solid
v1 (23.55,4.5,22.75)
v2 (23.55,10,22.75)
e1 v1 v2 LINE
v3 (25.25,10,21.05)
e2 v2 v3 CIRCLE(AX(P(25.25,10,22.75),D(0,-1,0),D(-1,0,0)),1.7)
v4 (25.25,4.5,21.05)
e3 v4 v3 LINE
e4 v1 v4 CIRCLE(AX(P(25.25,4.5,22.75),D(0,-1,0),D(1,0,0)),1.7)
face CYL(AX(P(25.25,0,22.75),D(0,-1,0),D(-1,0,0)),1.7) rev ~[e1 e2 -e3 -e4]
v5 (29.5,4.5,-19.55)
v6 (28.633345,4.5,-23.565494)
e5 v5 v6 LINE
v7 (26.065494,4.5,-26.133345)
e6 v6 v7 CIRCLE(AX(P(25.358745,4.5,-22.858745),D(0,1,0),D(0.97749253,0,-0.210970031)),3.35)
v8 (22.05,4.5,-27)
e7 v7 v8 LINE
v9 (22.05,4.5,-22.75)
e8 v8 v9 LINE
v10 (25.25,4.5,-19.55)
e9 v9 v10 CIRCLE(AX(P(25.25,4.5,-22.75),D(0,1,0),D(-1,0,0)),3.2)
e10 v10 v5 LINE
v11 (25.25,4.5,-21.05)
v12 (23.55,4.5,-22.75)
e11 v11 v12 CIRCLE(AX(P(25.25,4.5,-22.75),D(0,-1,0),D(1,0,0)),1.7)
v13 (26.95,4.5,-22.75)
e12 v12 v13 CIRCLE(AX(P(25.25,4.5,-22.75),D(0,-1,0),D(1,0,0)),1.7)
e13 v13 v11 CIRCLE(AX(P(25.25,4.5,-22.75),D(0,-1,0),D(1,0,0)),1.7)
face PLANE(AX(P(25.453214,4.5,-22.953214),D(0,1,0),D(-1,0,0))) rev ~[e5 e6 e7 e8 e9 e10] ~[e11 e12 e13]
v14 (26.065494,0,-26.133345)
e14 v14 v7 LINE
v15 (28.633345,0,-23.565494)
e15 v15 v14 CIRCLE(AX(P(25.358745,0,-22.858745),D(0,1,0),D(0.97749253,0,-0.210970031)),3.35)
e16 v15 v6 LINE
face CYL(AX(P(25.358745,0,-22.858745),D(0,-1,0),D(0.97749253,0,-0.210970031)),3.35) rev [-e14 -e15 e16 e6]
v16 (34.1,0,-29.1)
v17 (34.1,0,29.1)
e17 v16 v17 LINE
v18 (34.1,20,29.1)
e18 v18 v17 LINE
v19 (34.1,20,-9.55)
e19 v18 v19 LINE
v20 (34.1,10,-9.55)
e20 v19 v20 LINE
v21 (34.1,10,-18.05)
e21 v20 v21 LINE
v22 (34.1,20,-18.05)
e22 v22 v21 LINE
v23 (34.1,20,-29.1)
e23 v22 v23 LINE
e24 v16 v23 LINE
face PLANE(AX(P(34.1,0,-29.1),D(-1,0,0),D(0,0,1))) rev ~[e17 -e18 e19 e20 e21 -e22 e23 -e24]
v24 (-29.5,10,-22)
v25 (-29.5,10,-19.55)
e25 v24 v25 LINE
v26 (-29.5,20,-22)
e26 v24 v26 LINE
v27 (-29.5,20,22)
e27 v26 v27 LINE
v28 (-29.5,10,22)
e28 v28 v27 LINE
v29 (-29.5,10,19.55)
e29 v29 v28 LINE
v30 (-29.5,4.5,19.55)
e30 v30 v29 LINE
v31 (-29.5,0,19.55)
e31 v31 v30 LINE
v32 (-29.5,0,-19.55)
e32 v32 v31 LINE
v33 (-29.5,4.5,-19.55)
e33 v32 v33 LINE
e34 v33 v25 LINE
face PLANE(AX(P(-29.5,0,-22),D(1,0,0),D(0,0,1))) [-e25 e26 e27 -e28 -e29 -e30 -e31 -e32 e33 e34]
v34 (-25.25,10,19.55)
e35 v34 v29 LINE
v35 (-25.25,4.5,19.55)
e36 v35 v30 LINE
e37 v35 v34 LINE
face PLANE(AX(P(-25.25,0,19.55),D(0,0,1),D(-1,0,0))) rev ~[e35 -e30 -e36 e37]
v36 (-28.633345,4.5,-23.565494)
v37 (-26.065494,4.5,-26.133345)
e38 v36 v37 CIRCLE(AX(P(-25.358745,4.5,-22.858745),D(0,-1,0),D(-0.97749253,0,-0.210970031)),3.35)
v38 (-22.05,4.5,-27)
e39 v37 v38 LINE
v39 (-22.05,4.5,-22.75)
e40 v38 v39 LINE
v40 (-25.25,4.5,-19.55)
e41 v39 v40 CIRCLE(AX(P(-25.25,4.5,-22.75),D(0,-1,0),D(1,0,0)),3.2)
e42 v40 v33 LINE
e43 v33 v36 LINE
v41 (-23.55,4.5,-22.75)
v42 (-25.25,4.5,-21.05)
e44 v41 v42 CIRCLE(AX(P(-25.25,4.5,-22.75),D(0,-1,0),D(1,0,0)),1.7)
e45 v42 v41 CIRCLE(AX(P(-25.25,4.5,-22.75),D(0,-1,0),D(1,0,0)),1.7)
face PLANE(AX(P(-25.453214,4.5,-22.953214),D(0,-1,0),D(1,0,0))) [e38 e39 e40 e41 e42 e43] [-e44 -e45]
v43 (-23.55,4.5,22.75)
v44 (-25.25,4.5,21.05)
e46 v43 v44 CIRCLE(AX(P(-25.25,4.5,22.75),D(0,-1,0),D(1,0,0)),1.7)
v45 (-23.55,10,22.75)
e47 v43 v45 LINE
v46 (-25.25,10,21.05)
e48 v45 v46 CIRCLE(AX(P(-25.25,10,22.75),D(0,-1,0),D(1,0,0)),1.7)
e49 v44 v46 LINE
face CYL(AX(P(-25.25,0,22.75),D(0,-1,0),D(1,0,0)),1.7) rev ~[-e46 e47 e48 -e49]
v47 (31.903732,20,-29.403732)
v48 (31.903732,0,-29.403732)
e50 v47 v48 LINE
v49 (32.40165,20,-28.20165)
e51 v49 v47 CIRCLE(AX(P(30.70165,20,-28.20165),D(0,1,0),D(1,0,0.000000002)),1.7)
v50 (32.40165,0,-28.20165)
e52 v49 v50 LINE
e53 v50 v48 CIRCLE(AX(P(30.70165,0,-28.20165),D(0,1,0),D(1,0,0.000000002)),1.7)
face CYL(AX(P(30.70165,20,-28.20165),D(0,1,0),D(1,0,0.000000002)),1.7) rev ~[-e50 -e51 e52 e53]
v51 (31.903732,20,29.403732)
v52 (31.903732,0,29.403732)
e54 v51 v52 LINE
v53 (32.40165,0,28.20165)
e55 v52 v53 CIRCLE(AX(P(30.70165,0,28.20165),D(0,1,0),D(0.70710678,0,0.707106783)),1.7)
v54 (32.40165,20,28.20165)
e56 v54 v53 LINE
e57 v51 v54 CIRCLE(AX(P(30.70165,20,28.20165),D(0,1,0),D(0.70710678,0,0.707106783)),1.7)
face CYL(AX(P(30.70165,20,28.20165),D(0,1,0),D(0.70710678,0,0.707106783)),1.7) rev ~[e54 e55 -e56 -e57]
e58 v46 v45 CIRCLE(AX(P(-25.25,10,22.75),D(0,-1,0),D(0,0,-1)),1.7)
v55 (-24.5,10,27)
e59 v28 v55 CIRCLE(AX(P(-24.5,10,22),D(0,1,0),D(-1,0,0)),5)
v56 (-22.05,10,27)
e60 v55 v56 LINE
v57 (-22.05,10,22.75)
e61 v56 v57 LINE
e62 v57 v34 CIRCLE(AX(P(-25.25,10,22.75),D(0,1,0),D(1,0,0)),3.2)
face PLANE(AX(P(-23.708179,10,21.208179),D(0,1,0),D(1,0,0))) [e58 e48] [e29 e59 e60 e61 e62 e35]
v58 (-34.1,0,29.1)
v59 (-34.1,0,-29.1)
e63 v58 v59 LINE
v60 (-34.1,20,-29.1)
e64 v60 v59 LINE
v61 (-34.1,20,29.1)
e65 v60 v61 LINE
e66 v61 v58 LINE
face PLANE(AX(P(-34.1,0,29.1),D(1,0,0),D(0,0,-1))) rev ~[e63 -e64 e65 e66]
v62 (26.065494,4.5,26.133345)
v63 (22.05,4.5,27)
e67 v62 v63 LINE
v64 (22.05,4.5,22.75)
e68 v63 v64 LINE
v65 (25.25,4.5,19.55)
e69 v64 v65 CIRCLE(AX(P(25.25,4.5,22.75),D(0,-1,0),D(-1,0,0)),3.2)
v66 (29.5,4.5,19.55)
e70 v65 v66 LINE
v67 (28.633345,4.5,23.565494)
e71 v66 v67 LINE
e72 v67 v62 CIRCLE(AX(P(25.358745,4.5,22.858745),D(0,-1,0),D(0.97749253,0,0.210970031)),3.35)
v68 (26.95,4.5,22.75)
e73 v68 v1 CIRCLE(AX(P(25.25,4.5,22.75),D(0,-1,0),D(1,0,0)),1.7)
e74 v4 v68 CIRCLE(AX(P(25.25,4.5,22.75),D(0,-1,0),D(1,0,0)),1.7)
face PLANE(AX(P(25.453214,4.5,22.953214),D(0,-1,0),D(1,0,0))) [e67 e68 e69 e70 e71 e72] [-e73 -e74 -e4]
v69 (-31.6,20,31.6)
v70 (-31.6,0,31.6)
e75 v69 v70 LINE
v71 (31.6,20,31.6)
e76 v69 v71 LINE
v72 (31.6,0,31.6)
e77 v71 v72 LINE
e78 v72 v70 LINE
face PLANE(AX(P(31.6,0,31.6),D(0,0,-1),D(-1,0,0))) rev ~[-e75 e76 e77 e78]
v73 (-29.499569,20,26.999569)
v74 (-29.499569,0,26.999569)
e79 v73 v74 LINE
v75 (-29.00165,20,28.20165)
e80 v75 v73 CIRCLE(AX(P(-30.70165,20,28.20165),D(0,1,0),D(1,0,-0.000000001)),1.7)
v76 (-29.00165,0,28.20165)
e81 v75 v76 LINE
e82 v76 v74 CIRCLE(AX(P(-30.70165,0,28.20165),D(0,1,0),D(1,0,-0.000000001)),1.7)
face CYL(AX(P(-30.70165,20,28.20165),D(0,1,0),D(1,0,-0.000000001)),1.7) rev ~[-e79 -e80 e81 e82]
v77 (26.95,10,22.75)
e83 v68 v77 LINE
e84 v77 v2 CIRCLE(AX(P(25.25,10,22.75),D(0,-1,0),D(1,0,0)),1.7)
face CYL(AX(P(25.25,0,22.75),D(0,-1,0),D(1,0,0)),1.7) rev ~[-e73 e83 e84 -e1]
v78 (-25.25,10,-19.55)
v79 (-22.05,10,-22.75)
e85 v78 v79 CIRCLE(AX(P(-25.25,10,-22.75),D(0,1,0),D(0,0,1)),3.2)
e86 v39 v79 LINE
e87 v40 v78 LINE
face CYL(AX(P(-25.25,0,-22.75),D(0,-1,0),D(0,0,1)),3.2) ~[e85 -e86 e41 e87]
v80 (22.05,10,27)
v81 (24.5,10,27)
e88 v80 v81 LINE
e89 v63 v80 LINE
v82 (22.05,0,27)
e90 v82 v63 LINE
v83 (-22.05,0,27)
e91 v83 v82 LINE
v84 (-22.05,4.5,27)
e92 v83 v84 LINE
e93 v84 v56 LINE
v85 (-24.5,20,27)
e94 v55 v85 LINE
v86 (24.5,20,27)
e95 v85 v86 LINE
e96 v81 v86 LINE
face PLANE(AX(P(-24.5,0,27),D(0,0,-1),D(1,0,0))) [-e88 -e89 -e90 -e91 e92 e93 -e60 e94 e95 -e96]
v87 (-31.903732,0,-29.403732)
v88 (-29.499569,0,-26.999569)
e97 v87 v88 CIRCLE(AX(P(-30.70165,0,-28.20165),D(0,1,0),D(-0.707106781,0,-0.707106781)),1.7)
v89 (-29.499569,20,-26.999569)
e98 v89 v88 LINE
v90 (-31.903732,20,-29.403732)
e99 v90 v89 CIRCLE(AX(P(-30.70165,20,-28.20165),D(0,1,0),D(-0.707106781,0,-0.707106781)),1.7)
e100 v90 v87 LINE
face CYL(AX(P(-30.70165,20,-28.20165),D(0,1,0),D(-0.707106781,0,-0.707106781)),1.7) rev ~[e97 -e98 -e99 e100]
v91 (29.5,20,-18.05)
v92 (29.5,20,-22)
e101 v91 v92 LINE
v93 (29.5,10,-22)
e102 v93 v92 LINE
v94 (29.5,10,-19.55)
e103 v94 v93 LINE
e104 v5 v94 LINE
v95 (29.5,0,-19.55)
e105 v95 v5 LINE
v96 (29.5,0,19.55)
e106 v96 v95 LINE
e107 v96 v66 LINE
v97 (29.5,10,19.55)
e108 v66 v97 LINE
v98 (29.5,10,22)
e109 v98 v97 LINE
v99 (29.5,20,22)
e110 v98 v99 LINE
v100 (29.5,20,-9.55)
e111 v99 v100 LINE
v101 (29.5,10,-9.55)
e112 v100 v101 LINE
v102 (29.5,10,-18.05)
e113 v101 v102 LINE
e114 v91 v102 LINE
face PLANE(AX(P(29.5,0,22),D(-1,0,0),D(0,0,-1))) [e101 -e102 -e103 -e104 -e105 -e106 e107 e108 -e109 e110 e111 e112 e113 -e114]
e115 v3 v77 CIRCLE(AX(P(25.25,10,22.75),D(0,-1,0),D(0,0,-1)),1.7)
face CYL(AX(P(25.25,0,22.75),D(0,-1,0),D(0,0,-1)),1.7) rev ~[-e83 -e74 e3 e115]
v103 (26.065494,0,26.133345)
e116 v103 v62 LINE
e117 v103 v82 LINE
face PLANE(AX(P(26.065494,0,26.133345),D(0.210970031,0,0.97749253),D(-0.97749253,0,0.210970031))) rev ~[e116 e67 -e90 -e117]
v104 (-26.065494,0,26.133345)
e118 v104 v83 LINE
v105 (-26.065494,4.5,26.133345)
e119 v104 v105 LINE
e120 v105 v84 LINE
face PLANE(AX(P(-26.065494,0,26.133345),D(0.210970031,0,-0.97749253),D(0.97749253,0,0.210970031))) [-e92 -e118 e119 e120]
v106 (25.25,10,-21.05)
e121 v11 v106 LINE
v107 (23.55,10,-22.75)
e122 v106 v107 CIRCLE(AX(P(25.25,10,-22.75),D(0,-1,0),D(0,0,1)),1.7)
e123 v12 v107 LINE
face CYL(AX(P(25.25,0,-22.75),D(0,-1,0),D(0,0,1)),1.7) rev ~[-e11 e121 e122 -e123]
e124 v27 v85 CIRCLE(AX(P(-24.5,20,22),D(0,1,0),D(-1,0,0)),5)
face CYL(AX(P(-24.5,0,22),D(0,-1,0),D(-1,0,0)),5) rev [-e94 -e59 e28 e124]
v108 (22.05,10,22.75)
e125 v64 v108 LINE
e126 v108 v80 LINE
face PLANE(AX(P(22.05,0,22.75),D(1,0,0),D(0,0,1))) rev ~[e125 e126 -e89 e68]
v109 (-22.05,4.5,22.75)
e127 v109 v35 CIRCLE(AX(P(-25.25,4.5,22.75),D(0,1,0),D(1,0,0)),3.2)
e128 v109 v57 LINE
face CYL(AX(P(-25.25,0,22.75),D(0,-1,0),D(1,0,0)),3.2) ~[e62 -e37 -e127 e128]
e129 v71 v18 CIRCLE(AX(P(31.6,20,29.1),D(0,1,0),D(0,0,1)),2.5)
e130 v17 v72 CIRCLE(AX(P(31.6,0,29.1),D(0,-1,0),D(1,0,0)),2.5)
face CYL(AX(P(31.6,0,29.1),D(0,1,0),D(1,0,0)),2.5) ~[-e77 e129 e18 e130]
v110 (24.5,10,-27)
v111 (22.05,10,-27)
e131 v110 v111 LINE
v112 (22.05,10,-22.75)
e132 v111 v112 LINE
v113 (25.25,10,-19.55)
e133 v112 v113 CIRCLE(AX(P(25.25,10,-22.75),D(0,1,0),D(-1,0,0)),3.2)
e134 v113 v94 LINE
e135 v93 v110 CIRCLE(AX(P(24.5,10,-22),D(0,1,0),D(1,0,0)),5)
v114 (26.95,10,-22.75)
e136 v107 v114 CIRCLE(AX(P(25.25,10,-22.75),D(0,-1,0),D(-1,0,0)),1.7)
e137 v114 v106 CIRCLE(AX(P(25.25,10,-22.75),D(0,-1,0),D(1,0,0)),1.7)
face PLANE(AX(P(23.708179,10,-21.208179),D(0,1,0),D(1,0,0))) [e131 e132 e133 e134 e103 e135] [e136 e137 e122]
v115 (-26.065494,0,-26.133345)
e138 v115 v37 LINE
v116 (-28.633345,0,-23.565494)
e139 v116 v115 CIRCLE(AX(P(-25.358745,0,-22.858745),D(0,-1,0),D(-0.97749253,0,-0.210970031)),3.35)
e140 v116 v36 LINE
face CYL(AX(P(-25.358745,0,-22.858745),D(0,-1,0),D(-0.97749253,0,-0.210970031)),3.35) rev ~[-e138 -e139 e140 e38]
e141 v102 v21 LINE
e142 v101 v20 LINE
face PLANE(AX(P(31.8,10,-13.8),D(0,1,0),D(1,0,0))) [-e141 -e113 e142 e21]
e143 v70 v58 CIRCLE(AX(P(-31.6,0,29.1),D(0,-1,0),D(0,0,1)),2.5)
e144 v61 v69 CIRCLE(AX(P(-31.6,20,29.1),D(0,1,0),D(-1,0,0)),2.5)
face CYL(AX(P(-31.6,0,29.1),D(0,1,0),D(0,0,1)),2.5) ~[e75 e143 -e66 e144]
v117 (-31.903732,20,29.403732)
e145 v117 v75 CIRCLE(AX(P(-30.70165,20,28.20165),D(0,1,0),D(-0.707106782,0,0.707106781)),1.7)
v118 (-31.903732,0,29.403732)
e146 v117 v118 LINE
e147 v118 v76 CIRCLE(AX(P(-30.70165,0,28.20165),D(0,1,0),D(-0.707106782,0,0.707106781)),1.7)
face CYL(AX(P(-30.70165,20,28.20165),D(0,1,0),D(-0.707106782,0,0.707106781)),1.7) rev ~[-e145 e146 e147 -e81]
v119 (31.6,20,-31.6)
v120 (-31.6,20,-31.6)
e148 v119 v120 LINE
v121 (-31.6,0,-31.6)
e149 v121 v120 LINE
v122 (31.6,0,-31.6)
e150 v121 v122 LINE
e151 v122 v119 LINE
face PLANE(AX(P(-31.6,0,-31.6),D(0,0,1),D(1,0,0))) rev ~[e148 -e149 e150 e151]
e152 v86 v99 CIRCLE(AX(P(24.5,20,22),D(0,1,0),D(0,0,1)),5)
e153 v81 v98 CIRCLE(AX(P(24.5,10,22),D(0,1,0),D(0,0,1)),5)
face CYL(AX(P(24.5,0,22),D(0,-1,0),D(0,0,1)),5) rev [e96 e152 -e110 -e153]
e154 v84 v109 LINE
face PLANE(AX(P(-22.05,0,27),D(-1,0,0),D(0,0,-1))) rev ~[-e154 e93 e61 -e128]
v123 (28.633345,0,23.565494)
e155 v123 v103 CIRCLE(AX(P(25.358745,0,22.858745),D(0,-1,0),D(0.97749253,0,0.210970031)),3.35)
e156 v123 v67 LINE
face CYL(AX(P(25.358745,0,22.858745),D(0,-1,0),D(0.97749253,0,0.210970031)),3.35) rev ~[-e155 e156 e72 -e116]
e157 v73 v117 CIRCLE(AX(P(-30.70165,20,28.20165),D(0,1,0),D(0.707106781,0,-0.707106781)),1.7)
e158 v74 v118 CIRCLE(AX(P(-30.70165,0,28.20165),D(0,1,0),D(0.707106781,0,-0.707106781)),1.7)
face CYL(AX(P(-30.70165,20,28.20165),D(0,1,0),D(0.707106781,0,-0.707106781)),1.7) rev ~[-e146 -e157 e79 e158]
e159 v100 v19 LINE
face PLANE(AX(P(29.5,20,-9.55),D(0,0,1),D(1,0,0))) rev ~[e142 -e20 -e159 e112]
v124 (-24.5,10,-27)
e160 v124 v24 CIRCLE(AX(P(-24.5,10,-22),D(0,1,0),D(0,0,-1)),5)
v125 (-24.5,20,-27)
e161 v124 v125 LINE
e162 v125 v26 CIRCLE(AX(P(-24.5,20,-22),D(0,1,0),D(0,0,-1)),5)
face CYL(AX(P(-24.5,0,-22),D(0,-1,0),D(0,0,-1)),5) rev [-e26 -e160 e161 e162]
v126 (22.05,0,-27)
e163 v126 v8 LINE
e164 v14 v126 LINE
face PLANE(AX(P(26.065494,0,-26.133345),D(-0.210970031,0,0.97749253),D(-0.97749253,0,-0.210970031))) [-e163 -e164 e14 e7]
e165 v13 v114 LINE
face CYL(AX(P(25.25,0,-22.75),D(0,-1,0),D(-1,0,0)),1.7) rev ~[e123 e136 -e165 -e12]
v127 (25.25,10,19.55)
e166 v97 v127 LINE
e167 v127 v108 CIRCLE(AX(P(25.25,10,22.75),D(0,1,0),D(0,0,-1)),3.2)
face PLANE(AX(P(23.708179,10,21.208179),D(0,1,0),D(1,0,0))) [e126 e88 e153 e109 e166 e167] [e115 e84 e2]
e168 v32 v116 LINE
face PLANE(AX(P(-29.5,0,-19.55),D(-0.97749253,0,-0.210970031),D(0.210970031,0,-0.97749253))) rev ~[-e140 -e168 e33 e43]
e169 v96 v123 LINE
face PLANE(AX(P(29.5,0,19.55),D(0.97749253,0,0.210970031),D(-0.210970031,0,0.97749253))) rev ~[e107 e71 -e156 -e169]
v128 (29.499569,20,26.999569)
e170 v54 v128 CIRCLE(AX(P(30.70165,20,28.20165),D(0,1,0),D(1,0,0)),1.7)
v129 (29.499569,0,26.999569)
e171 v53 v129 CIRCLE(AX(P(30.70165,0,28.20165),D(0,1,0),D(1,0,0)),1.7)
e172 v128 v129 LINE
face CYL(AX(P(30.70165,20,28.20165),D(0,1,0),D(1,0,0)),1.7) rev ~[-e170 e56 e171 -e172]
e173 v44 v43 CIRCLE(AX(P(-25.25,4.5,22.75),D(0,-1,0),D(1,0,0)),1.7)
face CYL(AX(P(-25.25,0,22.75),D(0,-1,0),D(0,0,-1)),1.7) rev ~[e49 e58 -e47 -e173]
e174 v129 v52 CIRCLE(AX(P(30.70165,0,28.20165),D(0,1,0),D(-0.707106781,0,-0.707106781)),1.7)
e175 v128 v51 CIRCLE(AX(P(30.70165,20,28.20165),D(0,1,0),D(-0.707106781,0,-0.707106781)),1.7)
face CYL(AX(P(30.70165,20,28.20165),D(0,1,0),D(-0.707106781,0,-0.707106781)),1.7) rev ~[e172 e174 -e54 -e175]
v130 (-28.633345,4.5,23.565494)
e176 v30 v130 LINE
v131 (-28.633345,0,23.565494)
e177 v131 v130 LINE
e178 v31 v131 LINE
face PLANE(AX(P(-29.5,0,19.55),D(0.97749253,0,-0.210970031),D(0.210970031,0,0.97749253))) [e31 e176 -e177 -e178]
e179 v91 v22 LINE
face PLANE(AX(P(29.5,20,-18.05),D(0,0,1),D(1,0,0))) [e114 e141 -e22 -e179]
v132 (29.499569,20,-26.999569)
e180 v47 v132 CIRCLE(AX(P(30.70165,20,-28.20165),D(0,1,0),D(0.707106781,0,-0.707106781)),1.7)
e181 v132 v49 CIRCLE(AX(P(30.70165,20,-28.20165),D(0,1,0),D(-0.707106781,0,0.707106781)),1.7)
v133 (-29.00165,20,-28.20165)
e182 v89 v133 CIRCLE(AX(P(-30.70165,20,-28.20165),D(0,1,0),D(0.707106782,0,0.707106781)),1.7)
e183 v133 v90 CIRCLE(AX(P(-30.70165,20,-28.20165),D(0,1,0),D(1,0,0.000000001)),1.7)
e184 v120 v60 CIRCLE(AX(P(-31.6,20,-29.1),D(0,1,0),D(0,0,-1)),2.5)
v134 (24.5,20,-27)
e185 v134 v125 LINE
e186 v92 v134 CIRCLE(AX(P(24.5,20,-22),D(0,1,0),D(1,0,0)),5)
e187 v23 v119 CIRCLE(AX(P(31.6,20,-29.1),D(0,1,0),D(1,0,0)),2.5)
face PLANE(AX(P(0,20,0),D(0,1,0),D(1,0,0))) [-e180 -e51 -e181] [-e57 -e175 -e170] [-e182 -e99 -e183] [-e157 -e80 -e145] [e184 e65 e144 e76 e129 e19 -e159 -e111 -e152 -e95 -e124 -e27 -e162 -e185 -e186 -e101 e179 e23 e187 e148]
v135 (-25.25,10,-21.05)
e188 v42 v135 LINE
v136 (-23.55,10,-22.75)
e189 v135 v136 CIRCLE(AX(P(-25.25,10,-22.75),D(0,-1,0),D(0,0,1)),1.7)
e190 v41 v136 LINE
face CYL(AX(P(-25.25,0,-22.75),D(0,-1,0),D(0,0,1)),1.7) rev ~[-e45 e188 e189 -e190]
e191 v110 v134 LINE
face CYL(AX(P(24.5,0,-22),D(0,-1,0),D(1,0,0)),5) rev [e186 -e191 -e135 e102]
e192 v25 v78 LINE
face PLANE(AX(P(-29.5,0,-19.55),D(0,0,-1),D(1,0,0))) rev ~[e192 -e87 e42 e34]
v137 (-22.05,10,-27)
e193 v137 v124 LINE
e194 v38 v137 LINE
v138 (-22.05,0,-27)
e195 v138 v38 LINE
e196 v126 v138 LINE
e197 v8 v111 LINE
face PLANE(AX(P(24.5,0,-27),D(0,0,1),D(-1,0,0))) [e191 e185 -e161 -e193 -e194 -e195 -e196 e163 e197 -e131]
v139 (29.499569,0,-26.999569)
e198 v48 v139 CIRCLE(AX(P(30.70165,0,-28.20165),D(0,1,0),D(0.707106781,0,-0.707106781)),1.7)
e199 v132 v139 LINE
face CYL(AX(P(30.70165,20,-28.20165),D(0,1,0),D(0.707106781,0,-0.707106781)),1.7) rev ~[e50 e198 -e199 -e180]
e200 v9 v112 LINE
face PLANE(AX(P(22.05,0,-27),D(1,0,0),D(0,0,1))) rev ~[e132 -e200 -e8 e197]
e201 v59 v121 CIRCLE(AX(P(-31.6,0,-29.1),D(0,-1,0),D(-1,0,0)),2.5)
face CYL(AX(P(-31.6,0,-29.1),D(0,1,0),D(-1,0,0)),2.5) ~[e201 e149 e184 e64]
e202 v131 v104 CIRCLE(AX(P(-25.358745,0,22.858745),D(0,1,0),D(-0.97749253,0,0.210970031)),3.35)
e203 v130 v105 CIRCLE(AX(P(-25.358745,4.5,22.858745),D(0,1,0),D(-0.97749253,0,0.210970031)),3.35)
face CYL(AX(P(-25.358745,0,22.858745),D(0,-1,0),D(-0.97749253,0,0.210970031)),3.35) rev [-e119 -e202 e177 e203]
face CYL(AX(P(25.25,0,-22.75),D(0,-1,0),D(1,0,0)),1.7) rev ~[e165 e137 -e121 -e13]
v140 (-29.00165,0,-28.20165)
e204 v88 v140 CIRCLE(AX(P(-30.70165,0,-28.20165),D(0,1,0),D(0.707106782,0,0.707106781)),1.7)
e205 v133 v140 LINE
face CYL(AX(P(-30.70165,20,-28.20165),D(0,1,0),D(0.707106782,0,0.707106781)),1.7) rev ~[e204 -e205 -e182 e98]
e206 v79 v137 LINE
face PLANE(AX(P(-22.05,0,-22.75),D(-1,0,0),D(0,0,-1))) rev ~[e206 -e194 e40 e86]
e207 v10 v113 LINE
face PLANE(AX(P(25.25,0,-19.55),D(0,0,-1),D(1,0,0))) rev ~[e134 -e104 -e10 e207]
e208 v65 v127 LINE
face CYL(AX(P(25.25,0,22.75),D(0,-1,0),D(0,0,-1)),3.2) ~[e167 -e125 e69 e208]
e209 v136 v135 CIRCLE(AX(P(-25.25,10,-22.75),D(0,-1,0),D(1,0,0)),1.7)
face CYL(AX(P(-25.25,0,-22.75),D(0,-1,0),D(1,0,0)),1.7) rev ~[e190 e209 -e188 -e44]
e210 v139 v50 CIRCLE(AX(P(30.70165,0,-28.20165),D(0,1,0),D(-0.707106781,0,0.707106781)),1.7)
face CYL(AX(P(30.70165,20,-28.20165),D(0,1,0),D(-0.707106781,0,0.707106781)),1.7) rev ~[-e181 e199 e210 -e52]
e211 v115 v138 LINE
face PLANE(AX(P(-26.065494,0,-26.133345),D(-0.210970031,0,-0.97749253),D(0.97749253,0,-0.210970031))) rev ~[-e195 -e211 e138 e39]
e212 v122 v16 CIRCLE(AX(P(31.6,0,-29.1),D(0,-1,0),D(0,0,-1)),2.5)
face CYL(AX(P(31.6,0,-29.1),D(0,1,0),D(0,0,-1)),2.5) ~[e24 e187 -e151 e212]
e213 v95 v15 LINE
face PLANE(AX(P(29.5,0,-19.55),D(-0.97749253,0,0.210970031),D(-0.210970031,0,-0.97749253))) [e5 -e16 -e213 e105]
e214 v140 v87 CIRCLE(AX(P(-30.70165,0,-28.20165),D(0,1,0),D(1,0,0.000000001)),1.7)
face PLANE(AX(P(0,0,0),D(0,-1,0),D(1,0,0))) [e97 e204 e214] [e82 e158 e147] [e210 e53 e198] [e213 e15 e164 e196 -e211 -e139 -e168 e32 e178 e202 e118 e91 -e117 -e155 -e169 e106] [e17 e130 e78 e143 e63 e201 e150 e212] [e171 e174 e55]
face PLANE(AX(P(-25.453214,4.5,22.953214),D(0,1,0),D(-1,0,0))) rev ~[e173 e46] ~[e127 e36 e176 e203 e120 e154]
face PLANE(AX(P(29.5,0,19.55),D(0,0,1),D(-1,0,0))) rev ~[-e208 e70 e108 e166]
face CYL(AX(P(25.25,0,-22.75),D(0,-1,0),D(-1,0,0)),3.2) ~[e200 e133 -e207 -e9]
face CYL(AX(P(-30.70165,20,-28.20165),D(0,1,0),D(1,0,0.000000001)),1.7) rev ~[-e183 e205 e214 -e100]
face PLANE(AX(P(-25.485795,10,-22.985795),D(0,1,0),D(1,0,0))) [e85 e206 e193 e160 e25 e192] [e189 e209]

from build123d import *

# Parameters (mm, degrees)
EXTRUDE_2_DEPTH     = 20
EXTRUDE_3_DEPTH     = 4
EXTRUDE_4_DEPTH     = 10
CUT_EXTRUDE_1_DEPTH = 25
SKETCH_5_W          = 4.6
SKETCH_5_H          = 8.5
CUT_EXTRUDE_2_DEPTH = 10
CUT_EXTRUDE_3_DEPTH = 4
SKETCH_7_R          = 1.7
CUT_EXTRUDE_4_DEPTH = 4.5


with BuildPart() as part:
    # ｽｹｯﾁ1 → ﾎﾞｽ - 押し出し2 (new body)
    with BuildSketch(Plane(origin=(0, 0, 0), x_dir=(1, 0, 0), z_dir=(0, 1, 0))):
        with BuildLine():
            Line((31.6, 31.6), (-31.6, 31.6))
            ThreePointArc((-31.6, 31.6), (-33.367766953, 30.867766953), (-34.1, 29.1))
            Line((-34.1, 29.1), (-34.1, -29.1))
            ThreePointArc((-34.1, -29.1), (-33.367766953, -30.867766953), (-31.6, -31.6))
            Line((-31.6, -31.6), (31.6, -31.6))
            ThreePointArc((31.6, -31.6), (33.367766953, -30.867766953), (34.1, -29.1))
            Line((34.1, -29.1), (34.1, 29.1))
            ThreePointArc((34.1, 29.1), (33.367766953, 30.867766953), (31.6, 31.6))
        make_face()
        with BuildLine():
            Line((24.5, 27), (-24.5, 27))
            ThreePointArc((-24.5, 27), (-28.035533906, 25.535533906), (-29.5, 22))
            Line((-29.5, 22), (-29.5, -22))
            ThreePointArc((-29.5, -22), (-28.035533906, -25.535533906), (-24.5, -27))
            Line((-24.5, -27), (24.5, -27))
            ThreePointArc((24.5, -27), (28.035533906, -25.535533906), (29.5, -22))
            Line((29.5, -22), (29.5, 22))
            ThreePointArc((29.5, 22), (28.035533906, 25.535533906), (24.5, 27))
        make_face(mode=Mode.SUBTRACT)
    extrude(amount=EXTRUDE_2_DEPTH)

    # ｽｹｯﾁ2 → ﾎﾞｽ - 押し出し3 (add)
    with BuildSketch(Plane.XZ):
        with BuildLine():
            Line((34.1, -29.1), (34.1, 29.1))
            ThreePointArc((34.1, 29.1), (33.367766953, 30.867766953), (31.6, 31.6))
            Line((31.6, 31.6), (-31.6, 31.6))
            ThreePointArc((-31.6, 31.6), (-33.367766953, 30.867766953), (-34.1, 29.1))
            Line((-34.1, 29.1), (-34.1, -29.1))
            ThreePointArc((-34.1, -29.1), (-33.367766953, -30.867766953), (-31.6, -31.6))
            Line((-31.6, -31.6), (31.6, -31.6))
            ThreePointArc((31.6, -31.6), (33.367766953, -30.867766953), (34.1, -29.1))
        make_face()
    extrude(amount=EXTRUDE_3_DEPTH)

    # ｽｹｯﾁ3 → ﾎﾞｽ - 押し出し4 (add)
    with BuildSketch(Plane(origin=(0, 0, 0), x_dir=(1, 0, 0), z_dir=(0, 1, 0))):
        with BuildLine():
            ThreePointArc((22.05, 22.75), (22.9872583, 20.4872583), (25.25, 19.55))
            Line((25.25, 19.55), (25.25, 21.05))
            ThreePointArc((25.25, 21.05), (24.047918472, 21.547918472), (23.55, 22.75))
            Line((23.55, 22.75), (22.05, 22.75))
        make_face()
        with BuildLine():
            Line((25.25, 21.05), (25.25, 19.55))
            ThreePointArc((25.25, 19.55), (27.5127417, 20.4872583), (28.45, 22.75))
            ThreePointArc((28.45, 22.75), (25.25, 25.95), (22.05, 22.75))
            Line((22.05, 22.75), (23.55, 22.75))
            ThreePointArc((23.55, 22.75), (25.25, 24.45), (26.95, 22.75))
            ThreePointArc((26.95, 22.75), (26.452081528, 21.547918472), (25.25, 21.05))
        make_face()
        with BuildLine():
            ThreePointArc((-22.05, 22.75), (-27.5127417, 25.0127417), (-25.25, 19.55))
            Line((-25.25, 19.55), (-25.25, 21.05))
            ThreePointArc((-25.25, 21.05), (-26.452081528, 23.952081528), (-23.55, 22.75))
            Line((-23.55, 22.75), (-22.05, 22.75))
        make_face()
        with BuildLine():
            Line((-25.25, 21.05), (-25.25, 19.55))
            ThreePointArc((-25.25, 19.55), (-22.9872583, 20.4872583), (-22.05, 22.75))
            Line((-22.05, 22.75), (-23.55, 22.75))
            ThreePointArc((-23.55, 22.75), (-24.047918472, 21.547918472), (-25.25, 21.05))
        make_face()
        with BuildLine():
            ThreePointArc((-25.25, -21.05), (-24.047918472, -21.547918472), (-23.55, -22.75))
            Line((-23.55, -22.75), (-22.05, -22.75))
            ThreePointArc((-22.05, -22.75), (-22.9872583, -20.4872583), (-25.25, -19.55))
            Line((-25.25, -19.55), (-25.25, -21.05))
        make_face()
        with BuildLine():
            Line((-22.05, -22.75), (-23.55, -22.75))
            ThreePointArc((-23.55, -22.75), (-26.452081528, -23.952081528), (-25.25, -21.05))
            Line((-25.25, -21.05), (-25.25, -19.55))
            ThreePointArc((-25.25, -19.55), (-27.5127417, -25.0127417), (-22.05, -22.75))
        make_face()
        with BuildLine():
            ThreePointArc((25.25, -19.55), (22.987258299, -20.487258301), (22.05, -22.750000003))
            Line((22.05, -22.75), (23.55, -22.75))
            ThreePointArc((23.55, -22.75), (24.047918472, -21.547918472), (25.25, -21.05))
            Line((25.25, -21.05), (25.25, -19.55))
        make_face()
        with BuildLine():
            Line((23.55, -22.75), (22.05, -22.75))
            ThreePointArc((22.05, -22.750000003), (25.250000002, -25.95), (28.45, -22.75))
            ThreePointArc((28.45, -22.75), (27.5127417, -20.4872583), (25.25, -19.55))
            Line((25.25, -19.55), (25.25, -21.05))
            ThreePointArc((25.25, -21.05), (26.452081528, -21.547918472), (26.95, -22.75))
            ThreePointArc((26.95, -22.75), (25.25, -24.45), (23.55, -22.75))
        make_face()
        with BuildLine():
            ThreePointArc((28.45, -22.75), (25.250000002, -25.95), (22.05, -22.750000003))
            Line((22.05, -22.750000003), (22.05, -27))
            Line((22.05, -27), (24.5, -27))
            ThreePointArc((24.5, -27), (28.035533906, -25.535533906), (29.5, -22))
            Line((29.5, -22), (29.5, -19.55))
            Line((29.5, -19.55), (25.25, -19.55))
            ThreePointArc((25.25, -19.55), (27.5127417, -20.4872583), (28.45, -22.75))
        make_face()
        with BuildLine():
            ThreePointArc((28.45, 22.75), (27.5127417, 20.4872583), (25.25, 19.55))
            Line((25.25, 19.55), (29.5, 19.55))
            Line((29.5, 19.55), (29.5, 22))
            ThreePointArc((29.5, 22), (28.035533906, 25.535533906), (24.5, 27))
            Line((24.5, 27), (22.05, 27))
            Line((22.05, 27), (22.05, 22.75))
            ThreePointArc((22.05, 22.75), (25.25, 25.95), (28.45, 22.75))
        make_face()
        with BuildLine():
            Line((-22.05, -27), (-22.05, -22.75))
            ThreePointArc((-22.05, -22.75), (-27.5127417, -25.0127417), (-25.25, -19.55))
            Line((-25.25, -19.55), (-29.5, -19.55))
            Line((-29.5, -19.55), (-29.5, -22))
            ThreePointArc((-29.5, -22), (-28.035533906, -25.535533906), (-24.5, -27))
            Line((-24.5, -27), (-22.05, -27))
        make_face()
        with BuildLine():
            Line((-29.5, 19.55), (-25.25, 19.55))
            ThreePointArc((-25.25, 19.55), (-27.5127417, 25.0127417), (-22.05, 22.75))
            Line((-22.05, 22.75), (-22.05, 27))
            Line((-22.05, 27), (-24.5, 27))
            ThreePointArc((-24.5, 27), (-28.035533906, 25.535533906), (-29.5, 22))
            Line((-29.5, 22), (-29.5, 19.55))
        make_face()
    extrude(amount=EXTRUDE_4_DEPTH)

    # ｽｹｯﾁ4 → ｶｯﾄ - 押し出し1 (cut, through all)
    with BuildSketch(Plane(origin=(0, 20, 0), x_dir=(1, 0, 0), z_dir=(0, 1, 0))):
        with BuildLine():
            ThreePointArc((-29.499568901, -26.999568901), (-31.903731957, -26.999568901), (-31.903731957, -29.403731957))
            Line((-31.903731957, -29.403731957), (-29.499568901, -26.999568901))
        make_face()
        with BuildLine():
            Line((-29.499568901, -26.999568901), (-31.903731957, -29.403731957))
            ThreePointArc((-31.903731957, -29.403731957), (-30.051088594, -29.772245635), (-29.001650429, -28.201650429))
            ThreePointArc((-29.001650429, -28.201650429), (-29.131055224, -27.551088594), (-29.499568901, -26.999568901))
        make_face()
        with BuildLine():
            ThreePointArc((-31.903731957, 29.403731957), (-31.903731957, 26.999568901), (-29.499568901, 26.999568901))
            Line((-29.499568901, 26.999568901), (-31.903731957, 29.403731957))
        make_face()
        with BuildLine():
            Line((-31.903731957, 29.403731957), (-29.499568901, 26.999568901))
            ThreePointArc((-29.499568901, 26.999568901), (-29.131055224, 27.551088594), (-29.001650429, 28.201650429))
            ThreePointArc((-29.001650429, 28.201650429), (-30.051088594, 29.772245635), (-31.903731957, 29.403731957))
        make_face()
        with BuildLine():
            ThreePointArc((32.401650429, 28.201650429), (32.272245635, 28.852212264), (31.903731957, 29.403731957))
            Line((31.903731957, 29.403731957), (29.499568901, 26.999568901))
            ThreePointArc((29.499568901, 26.999568901), (31.352212264, 26.631055224), (32.401650429, 28.201650429))
        make_face()
        with BuildLine():
            Line((29.499568901, 26.999568901), (31.903731957, 29.403731957))
            ThreePointArc((31.903731957, 29.403731957), (29.499568901, 29.403731957), (29.499568901, 26.999568901))
        make_face()
        with BuildLine():
            ThreePointArc((32.401650429, -28.201650429), (31.352212264, -26.631055224), (29.499568901, -26.999568901))
            Line((29.499568901, -26.999568901), (31.903731957, -29.403731957))
            ThreePointArc((31.903731957, -29.403731957), (32.272245635, -28.852212264), (32.401650429, -28.201650429))
        make_face()
        with BuildLine():
            Line((31.903731957, -29.403731957), (29.499568901, -26.999568901))
            ThreePointArc((29.499568901, -26.999568901), (29.499568901, -29.403731957), (31.903731957, -29.403731957))
        make_face()
    extrude(amount=-CUT_EXTRUDE_1_DEPTH, mode=Mode.SUBTRACT)

    # ｽｹｯﾁ5 → ｶｯﾄ - 押し出し2 (cut)
    with BuildSketch(Plane(origin=(0, 20, 0), x_dir=(1, 0, 0), z_dir=(0, 1, 0))):
        with Locations((31.8, 13.8)):
            Rectangle(SKETCH_5_W, SKETCH_5_H)
    extrude(amount=-CUT_EXTRUDE_2_DEPTH, mode=Mode.SUBTRACT)

    # ｽｹｯﾁ6 → ｶｯﾄ - 押し出し3 (cut)
    with BuildSketch(Plane.XZ.offset(4)):
        with BuildLine():
            Line((34.1, -29.1), (34.1, 29.1))
            ThreePointArc((34.1, 29.1), (33.367766953, 30.867766953), (31.6, 31.6))
            Line((31.6, 31.6), (-31.6, 31.6))
            ThreePointArc((-31.6, 31.6), (-33.367766953, 30.867766953), (-34.1, 29.1))
            Line((-34.1, 29.1), (-34.1, -29.1))
            ThreePointArc((-34.1, -29.1), (-33.367766953, -30.867766953), (-31.6, -31.6))
            Line((-31.6, -31.6), (31.6, -31.6))
            ThreePointArc((31.6, -31.6), (33.367766953, -30.867766953), (34.1, -29.1))
        make_face()
    extrude(amount=-CUT_EXTRUDE_3_DEPTH, mode=Mode.SUBTRACT)

    # ｽｹｯﾁ7 → ｶｯﾄ - 押し出し4 (cut)
    with BuildSketch(Plane.XZ):
        with BuildLine():
            ThreePointArc((28.6333448, -23.565494429), (27.727552542, -25.227552542), (26.065494429, -26.1333448))
            Line((26.065494429, -26.1333448), (22.05, -27))
            Line((22.05, -27), (22.05, -22.75))
            ThreePointArc((22.05, -22.75), (22.9872583, -20.4872583), (25.25, -19.55))
            Line((25.25, -19.55), (29.5, -19.55))
            Line((29.5, -19.55), (28.6333448, -23.565494429))
        make_face()
        with Locations((25.25, -22.75)):
            Circle(SKETCH_7_R, mode=Mode.SUBTRACT)
        with BuildLine():
            Line((-29.5, -19.55), (-28.6333448, -23.565494429))
            ThreePointArc((-28.6333448, -23.565494429), (-27.727552542, -25.227552542), (-26.065494429, -26.1333448))
            Line((-26.065494429, -26.1333448), (-22.05, -27))
            Line((-22.05, -27), (-22.05, -22.75))
            ThreePointArc((-22.05, -22.75), (-22.9872583, -20.4872583), (-25.25, -19.55))
            Line((-25.25, -19.55), (-29.5, -19.55))
        make_face()
        with Locations((-25.25, -22.75)):
            Circle(SKETCH_7_R, mode=Mode.SUBTRACT)
        with BuildLine():
            ThreePointArc((-28.6333448, 23.565494429), (-27.727552542, 25.227552542), (-26.065494429, 26.1333448))
            Line((-26.065494429, 26.1333448), (-22.05, 27))
            Line((-22.05, 27), (-22.05, 22.75))
            ThreePointArc((-22.05, 22.75), (-22.9872583, 20.4872583), (-25.25, 19.55))
            Line((-25.25, 19.55), (-29.5, 19.55))
            Line((-29.5, 19.55), (-28.6333448, 23.565494429))
        make_face()
        with Locations((-25.25, 22.75)):
            Circle(SKETCH_7_R, mode=Mode.SUBTRACT)
        with BuildLine():
            Line((29.5, 19.55), (28.6333448, 23.565494429))
            ThreePointArc((28.6333448, 23.565494429), (27.727552542, 25.227552542), (26.065494429, 26.1333448))
            Line((26.065494429, 26.1333448), (22.05, 27))
            Line((22.05, 27), (22.05, 22.75))
            ThreePointArc((22.05, 22.75), (22.9872583, 20.4872583), (25.25, 19.55))
            Line((25.25, 19.55), (29.5, 19.55))
        make_face()
        with Locations((25.25, 22.75)):
            Circle(SKETCH_7_R, mode=Mode.SUBTRACT)
    extrude(amount=-CUT_EXTRUDE_4_DEPTH, mode=Mode.SUBTRACT)


solid = part.part
